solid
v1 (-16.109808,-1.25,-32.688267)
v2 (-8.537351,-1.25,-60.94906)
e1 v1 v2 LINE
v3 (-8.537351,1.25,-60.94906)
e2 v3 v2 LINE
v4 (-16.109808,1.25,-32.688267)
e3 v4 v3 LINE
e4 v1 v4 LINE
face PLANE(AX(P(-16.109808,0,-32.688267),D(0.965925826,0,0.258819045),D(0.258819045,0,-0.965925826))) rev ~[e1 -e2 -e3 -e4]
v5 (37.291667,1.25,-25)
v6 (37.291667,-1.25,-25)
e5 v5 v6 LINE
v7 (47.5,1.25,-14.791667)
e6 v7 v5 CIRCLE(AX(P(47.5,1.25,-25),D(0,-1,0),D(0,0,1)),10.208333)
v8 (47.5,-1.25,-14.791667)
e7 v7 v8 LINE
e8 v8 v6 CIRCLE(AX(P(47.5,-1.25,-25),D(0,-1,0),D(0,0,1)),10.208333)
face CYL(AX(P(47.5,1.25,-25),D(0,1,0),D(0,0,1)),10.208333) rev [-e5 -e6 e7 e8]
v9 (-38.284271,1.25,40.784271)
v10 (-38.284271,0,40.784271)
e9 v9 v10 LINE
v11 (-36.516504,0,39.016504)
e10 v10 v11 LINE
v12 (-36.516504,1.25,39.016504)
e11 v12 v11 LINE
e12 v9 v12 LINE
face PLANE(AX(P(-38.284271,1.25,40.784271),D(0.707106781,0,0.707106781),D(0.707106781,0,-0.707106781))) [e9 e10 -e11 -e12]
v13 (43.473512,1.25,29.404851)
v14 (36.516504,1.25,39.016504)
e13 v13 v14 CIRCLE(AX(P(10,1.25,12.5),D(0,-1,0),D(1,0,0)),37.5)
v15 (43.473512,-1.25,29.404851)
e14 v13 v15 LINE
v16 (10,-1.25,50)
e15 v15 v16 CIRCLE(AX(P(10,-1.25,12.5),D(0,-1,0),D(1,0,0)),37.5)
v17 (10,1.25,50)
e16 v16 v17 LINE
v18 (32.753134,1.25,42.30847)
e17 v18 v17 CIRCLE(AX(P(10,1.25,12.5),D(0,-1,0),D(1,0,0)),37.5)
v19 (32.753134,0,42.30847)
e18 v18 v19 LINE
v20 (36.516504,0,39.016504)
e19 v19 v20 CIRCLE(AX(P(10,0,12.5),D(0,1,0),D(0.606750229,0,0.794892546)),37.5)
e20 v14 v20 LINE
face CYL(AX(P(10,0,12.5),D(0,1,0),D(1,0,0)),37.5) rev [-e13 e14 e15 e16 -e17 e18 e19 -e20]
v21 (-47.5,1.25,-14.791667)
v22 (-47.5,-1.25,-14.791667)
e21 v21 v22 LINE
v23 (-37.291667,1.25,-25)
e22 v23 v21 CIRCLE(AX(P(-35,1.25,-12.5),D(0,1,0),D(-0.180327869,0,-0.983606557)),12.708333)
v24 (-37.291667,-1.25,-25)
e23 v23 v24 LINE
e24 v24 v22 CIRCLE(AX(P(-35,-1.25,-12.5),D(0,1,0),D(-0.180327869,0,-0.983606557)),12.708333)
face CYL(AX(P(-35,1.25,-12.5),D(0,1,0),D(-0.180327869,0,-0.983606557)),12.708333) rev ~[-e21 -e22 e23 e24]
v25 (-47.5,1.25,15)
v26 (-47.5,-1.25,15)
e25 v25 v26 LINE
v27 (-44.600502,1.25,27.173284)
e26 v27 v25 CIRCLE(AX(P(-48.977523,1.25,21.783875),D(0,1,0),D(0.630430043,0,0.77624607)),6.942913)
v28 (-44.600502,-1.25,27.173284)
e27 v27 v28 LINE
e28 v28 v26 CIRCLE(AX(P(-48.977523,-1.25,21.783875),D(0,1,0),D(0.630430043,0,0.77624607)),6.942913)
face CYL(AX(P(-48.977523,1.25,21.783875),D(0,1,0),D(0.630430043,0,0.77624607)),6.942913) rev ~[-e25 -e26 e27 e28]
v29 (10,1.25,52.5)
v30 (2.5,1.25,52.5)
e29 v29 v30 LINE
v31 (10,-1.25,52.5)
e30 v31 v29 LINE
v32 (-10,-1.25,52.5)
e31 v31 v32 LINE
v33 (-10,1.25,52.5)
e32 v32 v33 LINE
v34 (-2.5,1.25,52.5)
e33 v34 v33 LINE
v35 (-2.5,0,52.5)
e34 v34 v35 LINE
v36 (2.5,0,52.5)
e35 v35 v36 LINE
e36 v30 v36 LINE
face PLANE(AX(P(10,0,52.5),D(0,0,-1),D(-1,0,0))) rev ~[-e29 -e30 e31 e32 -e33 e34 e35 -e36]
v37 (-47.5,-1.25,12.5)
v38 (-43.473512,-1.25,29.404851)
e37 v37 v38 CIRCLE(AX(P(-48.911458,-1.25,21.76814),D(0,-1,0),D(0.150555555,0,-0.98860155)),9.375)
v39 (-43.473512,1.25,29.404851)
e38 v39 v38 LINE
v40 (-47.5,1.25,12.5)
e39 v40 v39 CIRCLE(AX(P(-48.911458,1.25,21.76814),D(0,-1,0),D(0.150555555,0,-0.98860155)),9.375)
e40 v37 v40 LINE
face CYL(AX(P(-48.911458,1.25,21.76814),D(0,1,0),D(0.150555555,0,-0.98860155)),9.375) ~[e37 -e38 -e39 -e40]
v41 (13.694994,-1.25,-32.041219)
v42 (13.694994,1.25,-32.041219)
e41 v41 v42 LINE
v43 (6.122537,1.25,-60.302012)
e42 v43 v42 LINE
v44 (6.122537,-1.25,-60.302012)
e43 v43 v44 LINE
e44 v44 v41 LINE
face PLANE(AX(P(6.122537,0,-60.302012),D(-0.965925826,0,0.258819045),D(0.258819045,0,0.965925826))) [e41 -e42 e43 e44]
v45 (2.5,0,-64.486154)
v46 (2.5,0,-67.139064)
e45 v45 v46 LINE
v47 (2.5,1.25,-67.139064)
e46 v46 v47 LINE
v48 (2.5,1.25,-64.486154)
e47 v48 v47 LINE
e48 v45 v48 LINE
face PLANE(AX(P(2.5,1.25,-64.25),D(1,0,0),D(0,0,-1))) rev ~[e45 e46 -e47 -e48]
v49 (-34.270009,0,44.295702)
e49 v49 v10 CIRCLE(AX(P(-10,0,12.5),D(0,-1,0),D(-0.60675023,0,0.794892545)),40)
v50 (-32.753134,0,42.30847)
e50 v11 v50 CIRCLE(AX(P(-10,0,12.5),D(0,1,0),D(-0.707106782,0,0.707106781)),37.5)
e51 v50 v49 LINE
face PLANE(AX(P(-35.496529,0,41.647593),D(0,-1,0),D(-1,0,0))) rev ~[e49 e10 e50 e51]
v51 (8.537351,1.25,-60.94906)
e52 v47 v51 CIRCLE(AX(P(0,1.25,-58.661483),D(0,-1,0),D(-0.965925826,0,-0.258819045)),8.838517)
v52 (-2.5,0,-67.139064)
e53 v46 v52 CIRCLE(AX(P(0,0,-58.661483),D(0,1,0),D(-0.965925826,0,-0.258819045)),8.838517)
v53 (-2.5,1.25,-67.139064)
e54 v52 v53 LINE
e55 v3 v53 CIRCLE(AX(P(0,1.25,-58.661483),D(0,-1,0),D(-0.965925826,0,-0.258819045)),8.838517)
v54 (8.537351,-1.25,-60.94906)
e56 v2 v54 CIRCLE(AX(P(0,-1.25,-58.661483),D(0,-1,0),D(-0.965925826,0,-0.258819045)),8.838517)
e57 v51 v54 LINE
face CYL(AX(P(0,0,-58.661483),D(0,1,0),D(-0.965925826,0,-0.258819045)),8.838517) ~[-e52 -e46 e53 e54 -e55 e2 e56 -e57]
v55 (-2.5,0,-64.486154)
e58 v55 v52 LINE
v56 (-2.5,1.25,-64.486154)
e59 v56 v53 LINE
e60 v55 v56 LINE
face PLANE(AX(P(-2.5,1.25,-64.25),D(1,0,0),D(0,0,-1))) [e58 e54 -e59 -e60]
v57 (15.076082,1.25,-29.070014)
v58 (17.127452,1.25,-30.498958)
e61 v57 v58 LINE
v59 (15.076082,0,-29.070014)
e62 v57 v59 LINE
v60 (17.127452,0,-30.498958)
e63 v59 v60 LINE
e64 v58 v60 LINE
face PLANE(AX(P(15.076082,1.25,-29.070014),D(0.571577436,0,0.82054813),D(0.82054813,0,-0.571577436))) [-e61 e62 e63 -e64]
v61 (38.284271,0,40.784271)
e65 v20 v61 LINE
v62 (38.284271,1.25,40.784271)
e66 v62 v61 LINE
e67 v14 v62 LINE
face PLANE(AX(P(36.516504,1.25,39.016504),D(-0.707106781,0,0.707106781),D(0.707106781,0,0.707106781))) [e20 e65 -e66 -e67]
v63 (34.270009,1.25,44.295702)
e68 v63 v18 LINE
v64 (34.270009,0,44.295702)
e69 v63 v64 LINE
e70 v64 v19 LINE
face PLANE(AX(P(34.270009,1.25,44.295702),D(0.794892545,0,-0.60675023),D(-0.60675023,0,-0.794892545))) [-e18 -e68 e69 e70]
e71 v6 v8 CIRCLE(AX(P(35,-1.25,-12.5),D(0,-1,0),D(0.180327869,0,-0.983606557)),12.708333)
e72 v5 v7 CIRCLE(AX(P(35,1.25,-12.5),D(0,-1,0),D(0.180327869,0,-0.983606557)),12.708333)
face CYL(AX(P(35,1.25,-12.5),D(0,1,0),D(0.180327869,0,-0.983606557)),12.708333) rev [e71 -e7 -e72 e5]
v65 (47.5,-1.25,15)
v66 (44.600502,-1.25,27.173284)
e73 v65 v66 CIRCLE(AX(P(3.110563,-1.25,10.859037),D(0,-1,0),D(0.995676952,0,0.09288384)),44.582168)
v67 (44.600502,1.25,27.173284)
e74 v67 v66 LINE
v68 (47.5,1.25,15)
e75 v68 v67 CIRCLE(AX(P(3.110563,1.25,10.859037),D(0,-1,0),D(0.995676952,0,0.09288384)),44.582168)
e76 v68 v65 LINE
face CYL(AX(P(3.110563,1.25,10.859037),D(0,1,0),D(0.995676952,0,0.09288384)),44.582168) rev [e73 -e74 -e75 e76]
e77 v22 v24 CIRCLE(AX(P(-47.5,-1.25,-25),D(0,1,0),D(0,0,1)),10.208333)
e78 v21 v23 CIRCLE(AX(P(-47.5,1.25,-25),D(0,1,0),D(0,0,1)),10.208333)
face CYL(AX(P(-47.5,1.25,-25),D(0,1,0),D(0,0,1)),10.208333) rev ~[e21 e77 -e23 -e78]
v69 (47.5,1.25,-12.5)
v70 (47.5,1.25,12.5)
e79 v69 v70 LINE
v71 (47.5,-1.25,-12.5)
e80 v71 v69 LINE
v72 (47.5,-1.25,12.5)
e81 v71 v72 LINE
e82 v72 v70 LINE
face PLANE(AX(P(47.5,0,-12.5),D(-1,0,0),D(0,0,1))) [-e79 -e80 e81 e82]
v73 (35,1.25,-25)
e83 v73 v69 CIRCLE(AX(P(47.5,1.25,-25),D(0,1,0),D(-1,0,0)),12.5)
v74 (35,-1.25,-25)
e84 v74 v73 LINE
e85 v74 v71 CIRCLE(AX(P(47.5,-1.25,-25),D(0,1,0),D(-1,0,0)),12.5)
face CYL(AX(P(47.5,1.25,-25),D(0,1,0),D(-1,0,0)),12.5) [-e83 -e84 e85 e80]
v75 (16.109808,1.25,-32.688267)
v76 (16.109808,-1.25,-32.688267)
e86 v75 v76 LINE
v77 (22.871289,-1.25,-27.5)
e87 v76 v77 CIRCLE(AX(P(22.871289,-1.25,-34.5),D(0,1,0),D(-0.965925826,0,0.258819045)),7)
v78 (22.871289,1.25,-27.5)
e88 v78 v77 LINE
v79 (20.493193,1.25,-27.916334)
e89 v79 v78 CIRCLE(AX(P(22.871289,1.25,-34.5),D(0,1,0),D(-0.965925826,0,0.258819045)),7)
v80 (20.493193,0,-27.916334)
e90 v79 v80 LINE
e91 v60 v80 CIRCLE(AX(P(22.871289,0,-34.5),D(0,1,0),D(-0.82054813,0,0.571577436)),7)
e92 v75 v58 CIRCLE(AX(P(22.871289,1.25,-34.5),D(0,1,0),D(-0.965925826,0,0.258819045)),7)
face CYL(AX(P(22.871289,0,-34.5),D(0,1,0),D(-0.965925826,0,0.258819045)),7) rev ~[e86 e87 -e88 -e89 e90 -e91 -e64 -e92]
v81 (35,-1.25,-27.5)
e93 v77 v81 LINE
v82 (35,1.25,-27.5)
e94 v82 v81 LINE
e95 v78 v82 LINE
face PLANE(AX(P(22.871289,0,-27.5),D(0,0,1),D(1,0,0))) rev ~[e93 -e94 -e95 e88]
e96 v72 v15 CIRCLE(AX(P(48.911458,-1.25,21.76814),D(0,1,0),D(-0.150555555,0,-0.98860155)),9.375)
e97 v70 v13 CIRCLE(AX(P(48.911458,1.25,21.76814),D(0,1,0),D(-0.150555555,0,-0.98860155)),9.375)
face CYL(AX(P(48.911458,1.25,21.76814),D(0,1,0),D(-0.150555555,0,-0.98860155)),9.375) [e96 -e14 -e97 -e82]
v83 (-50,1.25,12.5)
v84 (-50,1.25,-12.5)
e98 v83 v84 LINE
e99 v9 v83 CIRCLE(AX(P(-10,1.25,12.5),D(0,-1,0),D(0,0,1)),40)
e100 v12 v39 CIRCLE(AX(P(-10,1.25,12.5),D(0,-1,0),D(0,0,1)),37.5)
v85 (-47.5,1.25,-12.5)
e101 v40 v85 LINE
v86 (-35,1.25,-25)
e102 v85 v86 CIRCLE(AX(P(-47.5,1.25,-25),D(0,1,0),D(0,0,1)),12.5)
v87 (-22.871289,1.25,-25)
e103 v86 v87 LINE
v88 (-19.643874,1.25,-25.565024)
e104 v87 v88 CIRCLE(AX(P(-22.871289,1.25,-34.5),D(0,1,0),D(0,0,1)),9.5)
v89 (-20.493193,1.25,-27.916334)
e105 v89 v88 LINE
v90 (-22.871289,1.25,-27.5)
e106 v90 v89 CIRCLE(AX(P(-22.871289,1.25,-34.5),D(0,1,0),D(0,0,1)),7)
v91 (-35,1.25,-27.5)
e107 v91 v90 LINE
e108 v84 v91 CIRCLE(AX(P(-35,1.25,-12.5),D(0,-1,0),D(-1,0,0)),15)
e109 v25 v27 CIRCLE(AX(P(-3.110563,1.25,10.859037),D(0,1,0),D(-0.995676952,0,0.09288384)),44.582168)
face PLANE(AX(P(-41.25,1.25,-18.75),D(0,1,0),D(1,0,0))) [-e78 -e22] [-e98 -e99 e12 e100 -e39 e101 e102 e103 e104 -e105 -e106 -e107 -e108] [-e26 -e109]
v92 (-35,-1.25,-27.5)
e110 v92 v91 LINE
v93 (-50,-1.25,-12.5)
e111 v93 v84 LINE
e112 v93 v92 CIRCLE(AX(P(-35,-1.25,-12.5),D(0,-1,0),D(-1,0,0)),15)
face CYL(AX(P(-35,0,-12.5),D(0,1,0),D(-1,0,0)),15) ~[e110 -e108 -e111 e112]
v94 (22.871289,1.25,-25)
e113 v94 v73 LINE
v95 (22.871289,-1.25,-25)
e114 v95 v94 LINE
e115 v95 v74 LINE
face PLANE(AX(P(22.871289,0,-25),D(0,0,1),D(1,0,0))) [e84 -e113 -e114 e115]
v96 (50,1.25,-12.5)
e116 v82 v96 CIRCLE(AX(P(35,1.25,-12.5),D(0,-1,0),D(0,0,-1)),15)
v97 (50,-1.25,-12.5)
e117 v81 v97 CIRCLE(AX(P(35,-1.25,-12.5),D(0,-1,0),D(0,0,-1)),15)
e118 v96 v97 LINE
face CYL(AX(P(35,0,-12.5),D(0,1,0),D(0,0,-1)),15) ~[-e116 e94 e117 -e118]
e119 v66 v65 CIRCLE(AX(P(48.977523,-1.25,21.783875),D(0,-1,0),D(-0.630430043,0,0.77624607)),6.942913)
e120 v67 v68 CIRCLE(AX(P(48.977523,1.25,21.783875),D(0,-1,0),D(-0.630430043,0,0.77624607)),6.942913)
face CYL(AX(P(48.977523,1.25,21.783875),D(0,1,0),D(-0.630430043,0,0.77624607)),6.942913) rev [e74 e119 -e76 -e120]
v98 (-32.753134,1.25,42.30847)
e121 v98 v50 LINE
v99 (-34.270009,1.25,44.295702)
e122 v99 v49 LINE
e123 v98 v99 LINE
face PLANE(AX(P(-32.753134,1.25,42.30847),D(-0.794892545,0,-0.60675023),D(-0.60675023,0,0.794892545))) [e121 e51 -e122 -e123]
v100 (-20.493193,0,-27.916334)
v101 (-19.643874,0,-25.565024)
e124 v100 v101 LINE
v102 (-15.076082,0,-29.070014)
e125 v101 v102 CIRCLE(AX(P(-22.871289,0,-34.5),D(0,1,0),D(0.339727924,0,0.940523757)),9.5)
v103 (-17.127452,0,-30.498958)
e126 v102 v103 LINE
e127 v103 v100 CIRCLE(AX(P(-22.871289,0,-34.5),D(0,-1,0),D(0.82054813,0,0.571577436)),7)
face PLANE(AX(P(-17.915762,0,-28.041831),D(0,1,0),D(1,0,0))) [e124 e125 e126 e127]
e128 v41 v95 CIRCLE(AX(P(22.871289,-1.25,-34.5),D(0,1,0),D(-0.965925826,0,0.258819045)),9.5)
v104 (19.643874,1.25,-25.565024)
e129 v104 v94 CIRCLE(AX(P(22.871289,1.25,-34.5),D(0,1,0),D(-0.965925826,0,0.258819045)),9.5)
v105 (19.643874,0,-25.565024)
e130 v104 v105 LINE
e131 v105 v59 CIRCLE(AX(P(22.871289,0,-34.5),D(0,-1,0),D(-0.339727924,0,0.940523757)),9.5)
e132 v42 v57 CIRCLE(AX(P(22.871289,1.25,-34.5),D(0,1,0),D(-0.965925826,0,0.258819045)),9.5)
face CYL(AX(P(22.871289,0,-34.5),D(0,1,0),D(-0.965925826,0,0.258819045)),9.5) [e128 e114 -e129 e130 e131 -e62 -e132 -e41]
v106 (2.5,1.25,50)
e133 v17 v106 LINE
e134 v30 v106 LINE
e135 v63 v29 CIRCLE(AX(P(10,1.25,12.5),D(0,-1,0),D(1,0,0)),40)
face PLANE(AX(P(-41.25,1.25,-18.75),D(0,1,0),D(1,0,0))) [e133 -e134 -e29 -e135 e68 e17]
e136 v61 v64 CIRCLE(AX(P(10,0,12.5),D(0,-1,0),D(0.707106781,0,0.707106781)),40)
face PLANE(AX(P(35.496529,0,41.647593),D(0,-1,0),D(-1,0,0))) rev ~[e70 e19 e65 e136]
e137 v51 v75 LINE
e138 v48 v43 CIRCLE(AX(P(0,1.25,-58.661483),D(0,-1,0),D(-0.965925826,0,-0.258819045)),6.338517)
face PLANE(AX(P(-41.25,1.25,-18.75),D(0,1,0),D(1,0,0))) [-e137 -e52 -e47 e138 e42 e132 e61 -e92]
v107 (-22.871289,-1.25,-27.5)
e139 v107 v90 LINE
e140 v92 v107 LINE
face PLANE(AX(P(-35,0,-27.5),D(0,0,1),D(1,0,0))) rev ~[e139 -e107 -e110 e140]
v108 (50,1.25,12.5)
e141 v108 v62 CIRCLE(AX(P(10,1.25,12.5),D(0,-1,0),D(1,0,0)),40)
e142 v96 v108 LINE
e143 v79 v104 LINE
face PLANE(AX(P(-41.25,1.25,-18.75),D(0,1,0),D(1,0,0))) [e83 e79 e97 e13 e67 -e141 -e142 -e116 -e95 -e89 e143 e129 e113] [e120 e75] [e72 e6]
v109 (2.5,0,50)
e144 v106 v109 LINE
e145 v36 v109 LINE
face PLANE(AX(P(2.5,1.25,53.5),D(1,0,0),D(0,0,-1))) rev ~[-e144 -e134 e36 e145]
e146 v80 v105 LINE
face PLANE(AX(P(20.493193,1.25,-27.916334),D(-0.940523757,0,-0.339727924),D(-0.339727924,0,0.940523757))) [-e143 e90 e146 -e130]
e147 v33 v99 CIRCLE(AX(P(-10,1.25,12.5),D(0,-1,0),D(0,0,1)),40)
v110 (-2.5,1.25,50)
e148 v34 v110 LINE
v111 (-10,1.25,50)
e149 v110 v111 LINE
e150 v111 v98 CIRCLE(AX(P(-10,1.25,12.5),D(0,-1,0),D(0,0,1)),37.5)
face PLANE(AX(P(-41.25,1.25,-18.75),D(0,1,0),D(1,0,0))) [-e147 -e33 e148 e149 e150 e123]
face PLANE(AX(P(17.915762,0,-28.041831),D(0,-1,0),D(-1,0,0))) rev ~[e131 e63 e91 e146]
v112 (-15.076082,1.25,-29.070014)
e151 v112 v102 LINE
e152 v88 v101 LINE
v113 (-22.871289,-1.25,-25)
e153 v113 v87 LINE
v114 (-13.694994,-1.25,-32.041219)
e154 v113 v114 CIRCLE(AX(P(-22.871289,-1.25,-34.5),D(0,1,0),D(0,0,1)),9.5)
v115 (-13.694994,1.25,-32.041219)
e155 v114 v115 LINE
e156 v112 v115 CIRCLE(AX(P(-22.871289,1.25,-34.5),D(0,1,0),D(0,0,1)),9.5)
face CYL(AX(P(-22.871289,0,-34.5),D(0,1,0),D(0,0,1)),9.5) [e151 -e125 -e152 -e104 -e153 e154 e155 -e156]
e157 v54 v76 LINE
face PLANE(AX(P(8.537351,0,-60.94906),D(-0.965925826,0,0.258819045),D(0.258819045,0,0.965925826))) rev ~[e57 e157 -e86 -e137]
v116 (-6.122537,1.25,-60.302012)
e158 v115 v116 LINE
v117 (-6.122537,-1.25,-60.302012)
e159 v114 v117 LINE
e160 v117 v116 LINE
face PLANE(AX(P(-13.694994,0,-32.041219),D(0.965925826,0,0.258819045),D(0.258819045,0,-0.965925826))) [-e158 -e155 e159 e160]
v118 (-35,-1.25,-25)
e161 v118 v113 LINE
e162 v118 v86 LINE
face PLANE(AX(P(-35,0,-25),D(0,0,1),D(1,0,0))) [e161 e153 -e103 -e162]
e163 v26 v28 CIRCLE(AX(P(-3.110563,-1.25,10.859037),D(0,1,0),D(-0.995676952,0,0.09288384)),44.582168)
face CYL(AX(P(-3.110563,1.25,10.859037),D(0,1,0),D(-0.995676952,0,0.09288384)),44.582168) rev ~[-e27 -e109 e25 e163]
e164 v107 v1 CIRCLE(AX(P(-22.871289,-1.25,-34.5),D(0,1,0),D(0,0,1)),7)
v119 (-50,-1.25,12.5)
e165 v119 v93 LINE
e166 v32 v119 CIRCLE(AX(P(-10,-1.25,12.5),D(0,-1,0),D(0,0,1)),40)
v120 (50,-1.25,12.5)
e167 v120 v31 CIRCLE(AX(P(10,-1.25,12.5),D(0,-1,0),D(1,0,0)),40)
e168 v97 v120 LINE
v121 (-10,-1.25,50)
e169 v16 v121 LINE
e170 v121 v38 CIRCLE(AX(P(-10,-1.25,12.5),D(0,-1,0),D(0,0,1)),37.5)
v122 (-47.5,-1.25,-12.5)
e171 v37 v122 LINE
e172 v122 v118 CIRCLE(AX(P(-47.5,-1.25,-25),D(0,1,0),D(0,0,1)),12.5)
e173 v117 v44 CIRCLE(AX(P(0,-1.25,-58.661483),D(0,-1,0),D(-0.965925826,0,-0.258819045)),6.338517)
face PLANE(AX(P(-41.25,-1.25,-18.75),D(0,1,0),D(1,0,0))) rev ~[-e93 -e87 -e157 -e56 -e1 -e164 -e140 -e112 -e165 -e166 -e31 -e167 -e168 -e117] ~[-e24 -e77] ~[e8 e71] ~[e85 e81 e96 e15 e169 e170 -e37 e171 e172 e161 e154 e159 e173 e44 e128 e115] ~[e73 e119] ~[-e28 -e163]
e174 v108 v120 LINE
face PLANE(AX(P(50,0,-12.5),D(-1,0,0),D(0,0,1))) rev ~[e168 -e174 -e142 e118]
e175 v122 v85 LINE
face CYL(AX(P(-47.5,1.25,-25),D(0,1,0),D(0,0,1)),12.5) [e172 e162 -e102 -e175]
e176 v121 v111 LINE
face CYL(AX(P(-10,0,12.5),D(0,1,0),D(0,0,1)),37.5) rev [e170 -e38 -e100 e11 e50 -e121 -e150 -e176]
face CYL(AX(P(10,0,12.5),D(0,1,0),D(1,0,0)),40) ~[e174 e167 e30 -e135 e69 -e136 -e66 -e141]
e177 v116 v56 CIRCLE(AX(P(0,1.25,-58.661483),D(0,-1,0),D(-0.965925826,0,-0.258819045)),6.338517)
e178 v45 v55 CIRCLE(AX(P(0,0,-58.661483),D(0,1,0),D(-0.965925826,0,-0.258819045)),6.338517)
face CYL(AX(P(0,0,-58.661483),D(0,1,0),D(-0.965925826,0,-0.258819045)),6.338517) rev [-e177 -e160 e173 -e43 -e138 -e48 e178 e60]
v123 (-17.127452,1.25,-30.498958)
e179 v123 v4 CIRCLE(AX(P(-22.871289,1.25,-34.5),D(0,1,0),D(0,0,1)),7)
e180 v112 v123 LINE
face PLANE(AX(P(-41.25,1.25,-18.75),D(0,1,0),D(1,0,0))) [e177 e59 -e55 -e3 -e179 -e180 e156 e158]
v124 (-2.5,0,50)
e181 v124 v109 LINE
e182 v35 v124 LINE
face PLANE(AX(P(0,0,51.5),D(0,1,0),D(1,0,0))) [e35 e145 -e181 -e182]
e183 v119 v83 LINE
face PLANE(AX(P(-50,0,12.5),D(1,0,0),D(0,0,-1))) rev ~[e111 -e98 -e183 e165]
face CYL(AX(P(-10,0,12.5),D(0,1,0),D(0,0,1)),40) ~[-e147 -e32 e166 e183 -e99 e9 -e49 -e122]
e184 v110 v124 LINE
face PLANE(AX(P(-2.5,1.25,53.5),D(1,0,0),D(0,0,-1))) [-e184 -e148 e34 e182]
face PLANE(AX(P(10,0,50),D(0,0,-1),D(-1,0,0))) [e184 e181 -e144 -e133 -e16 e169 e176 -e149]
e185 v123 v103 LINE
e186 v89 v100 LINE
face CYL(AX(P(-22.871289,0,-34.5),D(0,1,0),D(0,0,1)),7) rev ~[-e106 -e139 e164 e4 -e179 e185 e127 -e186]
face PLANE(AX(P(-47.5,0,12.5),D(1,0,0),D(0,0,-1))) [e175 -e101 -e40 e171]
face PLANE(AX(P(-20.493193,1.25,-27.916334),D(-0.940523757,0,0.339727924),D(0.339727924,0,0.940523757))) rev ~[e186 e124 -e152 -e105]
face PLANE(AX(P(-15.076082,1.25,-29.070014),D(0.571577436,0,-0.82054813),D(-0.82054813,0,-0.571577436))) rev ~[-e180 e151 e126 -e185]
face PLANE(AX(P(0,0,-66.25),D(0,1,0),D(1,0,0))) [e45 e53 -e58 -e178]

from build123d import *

# Parameters (mm, degrees)
BOSS_EXTRUDE1_DEPTH = 1.25
BOSS_EXTRUDE5_DEPTH = 2.5
SKETCH6_W           = 5
SKETCH6_H           = 4
CUT_EXTRUDE1_DEPTH  = 1.25
CUT_EXTRUDE2_DEPTH  = 2.5


with BuildPart() as part:
    # Sketch2 → Boss-Extrude1 (new body, symmetric)
    with BuildSketch(Plane(origin=(0, 0, 0), x_dir=(1, 0, 0), z_dir=(0, 1, 0))):
        with BuildLine():
            Line((-16.109808132, 32.688266684), (-8.537351427, 60.949059844))
            ThreePointArc((-8.537351427, 60.949059844), (0, 67.5), (8.537351427, 60.949059844))
            Line((8.537351427, 60.949059844), (16.109808132, 32.688266684))
            ThreePointArc((16.109808132, 32.688266684), (18.609958913, 28.946526618), (22.871288916, 27.5))
            Line((22.871288916, 27.5), (35, 27.5))
            ThreePointArc((35, 27.5), (45.606601718, 23.106601718), (50, 12.5))
            Line((50, 12.5), (50, -12.5))
            ThreePointArc((50, -12.5), (38.284271247, -40.784271247), (10, -52.5))
            Line((10, -52.5), (-10, -52.5))
            ThreePointArc((-10, -52.5), (-38.284271247, -40.784271247), (-50, -12.5))
            Line((-50, -12.5), (-50, 12.5))
            ThreePointArc((-50, 12.5), (-45.606601718, 23.106601718), (-35, 27.5))
            Line((-35, 27.5), (-22.871288916, 27.5))
            ThreePointArc((-22.871288916, 27.5), (-18.609958913, 28.946526618), (-16.109808132, 32.688266684))
        make_face()
        with BuildLine():
            Line((6.122536861, 60.302012231), (13.694993566, 32.041219072))
            ThreePointArc((13.694993566, 32.041219072), (17.08805534, 26.963143267), (22.871288916, 25))
            Line((22.871288916, 25), (35, 25))
            ThreePointArc((35, 25), (43.838834765, 21.338834765), (47.5, 12.5))
            Line((47.5, 12.5), (47.5, -12.5))
            ThreePointArc((47.5, -12.5), (36.516504294, -39.016504294), (10, -50))
            Line((10, -50), (-10, -50))
            ThreePointArc((-10, -50), (-36.516504294, -39.016504294), (-47.5, -12.5))
            Line((-47.5, -12.5), (-47.5, 12.5))
            ThreePointArc((-47.5, 12.5), (-43.838834765, 21.338834765), (-35, 25))
            Line((-35, 25), (-22.871288916, 25))
            ThreePointArc((-22.871288916, 25), (-17.08805534, 26.963143267), (-13.694993566, 32.041219072))
            Line((-13.694993566, 32.041219072), (-6.122536861, 60.302012231))
            ThreePointArc((-6.122536861, 60.302012231), (0, 65), (6.122536861, 60.302012231))
        make_face(mode=Mode.SUBTRACT)
    extrude(amount=BOSS_EXTRUDE1_DEPTH, both=True)

    # Sketch5 → Boss-Extrude5 (add)
    with BuildSketch(Plane(origin=(0, 1.25, 0), x_dir=(1, 0, 0), z_dir=(0, 1, 0))):
        with BuildLine():
            ThreePointArc((-47.5, 12.5), (-38.661165235, 16.161165235), (-35, 25))
            ThreePointArc((-35, 25), (-43.838834765, 21.338834765), (-47.5, 12.5))
        make_face()
        with BuildLine():
            ThreePointArc((35, 25), (38.661165235, 16.161165235), (47.5, 12.5))
            ThreePointArc((47.5, 12.5), (43.838834765, 21.338834765), (35, 25))
        make_face()
        with BuildLine():
            ThreePointArc((-47.5, -12.5), (-39.791585286, -19.595919329), (-43.473512014, -29.404851181))
            ThreePointArc((-43.473512014, -29.404851181), (-46.479492188, -21.188880811), (-47.5, -12.5))
        make_face()
        with BuildLine():
            ThreePointArc((47.5, -12.5), (39.791585286, -19.595919329), (43.473512014, -29.404851181))
            ThreePointArc((43.473512014, -29.404851181), (46.479492188, -21.188880811), (47.5, -12.5))
        make_face()
    extrude(amount=-BOSS_EXTRUDE5_DEPTH)

    # Sketch6 → Cut-Extrude1 (cut)
    with BuildSketch(Plane(origin=(0, 1.25, 0), x_dir=(1, 0, 0), z_dir=(0, 1, 0))):
        with Locations((0, 66.25)):
            Rectangle(SKETCH6_W, SKETCH6_H)
        with BuildLine():
            Line((-20.493193447, 27.916333701), (-19.643873637, 25.565024308))
            ThreePointArc((-19.643873637, 25.565024308), (-17.08805534, 26.963143267), (-15.076081678, 29.070014354))
            Line((-15.076081678, 29.070014354), (-17.127452004, 30.498957945))
            ThreePointArc((-17.127452004, 30.498957945), (-18.609958913, 28.946526618), (-20.493193447, 27.916333701))
        make_face()
        with BuildLine():
            Line((20.493193447, 27.916333701), (19.643873637, 25.565024308))
            ThreePointArc((19.643873637, 25.565024308), (17.08805534, 26.963143267), (15.076081678, 29.070014354))
            Line((15.076081678, 29.070014354), (17.127452004, 30.498957945))
            ThreePointArc((17.127452004, 30.498957945), (18.609958913, 28.946526618), (20.493193447, 27.916333701))
        make_face()
        with BuildLine():
            Line((-38.284271247, -40.784271247), (-36.516504294, -39.016504294))
            ThreePointArc((-36.516504294, -39.016504294), (-34.689746158, -40.725280064), (-32.753133619, -42.308470449))
            Line((-32.753133619, -42.308470449), (-34.270009194, -44.295701812))
            ThreePointArc((-34.270009194, -44.295701812), (-36.335729235, -42.606965401), (-38.284271247, -40.784271247))
        make_face()
        with BuildLine():
            Line((34.270009194, -44.295701812), (32.753133619, -42.308470449))
            ThreePointArc((32.753133619, -42.308470449), (34.689746158, -40.725280064), (36.516504294, -39.016504294))
            Line((36.516504294, -39.016504294), (38.284271247, -40.784271247))
            ThreePointArc((38.284271247, -40.784271247), (36.335729235, -42.606965401), (34.270009194, -44.295701812))
        make_face()
        with Locations((0, -51.5)):
            Rectangle(SKETCH6_W, SKETCH6_H)
    extrude(amount=-CUT_EXTRUDE1_DEPTH, mode=Mode.SUBTRACT)

    # Sketch7 → Cut-Extrude2 (cut)
    with BuildSketch(Plane(origin=(0, 1.25, 0), x_dir=(1, 0, 0), z_dir=(0, 1, 0))):
        with BuildLine():
            ThreePointArc((-47.5, 14.791666667), (-40.281618275, 17.781618275), (-37.291666667, 25))
            ThreePointArc((-37.291666667, 25), (-43.986148678, 21.486148678), (-47.5, 14.791666667))
        make_face()
        with BuildLine():
            ThreePointArc((37.291666667, 25), (43.986148678, 21.486148678), (47.5, 14.791666667))
            ThreePointArc((47.5, 14.791666667), (40.281618275, 17.781618275), (37.291666667, 25))
        make_face()
        with BuildLine():
            ThreePointArc((-44.600502093, -27.173283714), (-42.223551432, -20.175178049), (-47.5, -15))
            ThreePointArc((-47.5, -15), (-46.479492187, -21.188880811), (-44.600502093, -27.173283714))
        make_face()
        with BuildLine():
            ThreePointArc((47.5, -15), (46.479492187, -21.188880811), (44.600502093, -27.173283714))
            ThreePointArc((44.600502093, -27.173283714), (42.223551432, -20.175178049), (47.5, -15))
        make_face()
    extrude(amount=-CUT_EXTRUDE2_DEPTH, mode=Mode.SUBTRACT)


solid = part.part
